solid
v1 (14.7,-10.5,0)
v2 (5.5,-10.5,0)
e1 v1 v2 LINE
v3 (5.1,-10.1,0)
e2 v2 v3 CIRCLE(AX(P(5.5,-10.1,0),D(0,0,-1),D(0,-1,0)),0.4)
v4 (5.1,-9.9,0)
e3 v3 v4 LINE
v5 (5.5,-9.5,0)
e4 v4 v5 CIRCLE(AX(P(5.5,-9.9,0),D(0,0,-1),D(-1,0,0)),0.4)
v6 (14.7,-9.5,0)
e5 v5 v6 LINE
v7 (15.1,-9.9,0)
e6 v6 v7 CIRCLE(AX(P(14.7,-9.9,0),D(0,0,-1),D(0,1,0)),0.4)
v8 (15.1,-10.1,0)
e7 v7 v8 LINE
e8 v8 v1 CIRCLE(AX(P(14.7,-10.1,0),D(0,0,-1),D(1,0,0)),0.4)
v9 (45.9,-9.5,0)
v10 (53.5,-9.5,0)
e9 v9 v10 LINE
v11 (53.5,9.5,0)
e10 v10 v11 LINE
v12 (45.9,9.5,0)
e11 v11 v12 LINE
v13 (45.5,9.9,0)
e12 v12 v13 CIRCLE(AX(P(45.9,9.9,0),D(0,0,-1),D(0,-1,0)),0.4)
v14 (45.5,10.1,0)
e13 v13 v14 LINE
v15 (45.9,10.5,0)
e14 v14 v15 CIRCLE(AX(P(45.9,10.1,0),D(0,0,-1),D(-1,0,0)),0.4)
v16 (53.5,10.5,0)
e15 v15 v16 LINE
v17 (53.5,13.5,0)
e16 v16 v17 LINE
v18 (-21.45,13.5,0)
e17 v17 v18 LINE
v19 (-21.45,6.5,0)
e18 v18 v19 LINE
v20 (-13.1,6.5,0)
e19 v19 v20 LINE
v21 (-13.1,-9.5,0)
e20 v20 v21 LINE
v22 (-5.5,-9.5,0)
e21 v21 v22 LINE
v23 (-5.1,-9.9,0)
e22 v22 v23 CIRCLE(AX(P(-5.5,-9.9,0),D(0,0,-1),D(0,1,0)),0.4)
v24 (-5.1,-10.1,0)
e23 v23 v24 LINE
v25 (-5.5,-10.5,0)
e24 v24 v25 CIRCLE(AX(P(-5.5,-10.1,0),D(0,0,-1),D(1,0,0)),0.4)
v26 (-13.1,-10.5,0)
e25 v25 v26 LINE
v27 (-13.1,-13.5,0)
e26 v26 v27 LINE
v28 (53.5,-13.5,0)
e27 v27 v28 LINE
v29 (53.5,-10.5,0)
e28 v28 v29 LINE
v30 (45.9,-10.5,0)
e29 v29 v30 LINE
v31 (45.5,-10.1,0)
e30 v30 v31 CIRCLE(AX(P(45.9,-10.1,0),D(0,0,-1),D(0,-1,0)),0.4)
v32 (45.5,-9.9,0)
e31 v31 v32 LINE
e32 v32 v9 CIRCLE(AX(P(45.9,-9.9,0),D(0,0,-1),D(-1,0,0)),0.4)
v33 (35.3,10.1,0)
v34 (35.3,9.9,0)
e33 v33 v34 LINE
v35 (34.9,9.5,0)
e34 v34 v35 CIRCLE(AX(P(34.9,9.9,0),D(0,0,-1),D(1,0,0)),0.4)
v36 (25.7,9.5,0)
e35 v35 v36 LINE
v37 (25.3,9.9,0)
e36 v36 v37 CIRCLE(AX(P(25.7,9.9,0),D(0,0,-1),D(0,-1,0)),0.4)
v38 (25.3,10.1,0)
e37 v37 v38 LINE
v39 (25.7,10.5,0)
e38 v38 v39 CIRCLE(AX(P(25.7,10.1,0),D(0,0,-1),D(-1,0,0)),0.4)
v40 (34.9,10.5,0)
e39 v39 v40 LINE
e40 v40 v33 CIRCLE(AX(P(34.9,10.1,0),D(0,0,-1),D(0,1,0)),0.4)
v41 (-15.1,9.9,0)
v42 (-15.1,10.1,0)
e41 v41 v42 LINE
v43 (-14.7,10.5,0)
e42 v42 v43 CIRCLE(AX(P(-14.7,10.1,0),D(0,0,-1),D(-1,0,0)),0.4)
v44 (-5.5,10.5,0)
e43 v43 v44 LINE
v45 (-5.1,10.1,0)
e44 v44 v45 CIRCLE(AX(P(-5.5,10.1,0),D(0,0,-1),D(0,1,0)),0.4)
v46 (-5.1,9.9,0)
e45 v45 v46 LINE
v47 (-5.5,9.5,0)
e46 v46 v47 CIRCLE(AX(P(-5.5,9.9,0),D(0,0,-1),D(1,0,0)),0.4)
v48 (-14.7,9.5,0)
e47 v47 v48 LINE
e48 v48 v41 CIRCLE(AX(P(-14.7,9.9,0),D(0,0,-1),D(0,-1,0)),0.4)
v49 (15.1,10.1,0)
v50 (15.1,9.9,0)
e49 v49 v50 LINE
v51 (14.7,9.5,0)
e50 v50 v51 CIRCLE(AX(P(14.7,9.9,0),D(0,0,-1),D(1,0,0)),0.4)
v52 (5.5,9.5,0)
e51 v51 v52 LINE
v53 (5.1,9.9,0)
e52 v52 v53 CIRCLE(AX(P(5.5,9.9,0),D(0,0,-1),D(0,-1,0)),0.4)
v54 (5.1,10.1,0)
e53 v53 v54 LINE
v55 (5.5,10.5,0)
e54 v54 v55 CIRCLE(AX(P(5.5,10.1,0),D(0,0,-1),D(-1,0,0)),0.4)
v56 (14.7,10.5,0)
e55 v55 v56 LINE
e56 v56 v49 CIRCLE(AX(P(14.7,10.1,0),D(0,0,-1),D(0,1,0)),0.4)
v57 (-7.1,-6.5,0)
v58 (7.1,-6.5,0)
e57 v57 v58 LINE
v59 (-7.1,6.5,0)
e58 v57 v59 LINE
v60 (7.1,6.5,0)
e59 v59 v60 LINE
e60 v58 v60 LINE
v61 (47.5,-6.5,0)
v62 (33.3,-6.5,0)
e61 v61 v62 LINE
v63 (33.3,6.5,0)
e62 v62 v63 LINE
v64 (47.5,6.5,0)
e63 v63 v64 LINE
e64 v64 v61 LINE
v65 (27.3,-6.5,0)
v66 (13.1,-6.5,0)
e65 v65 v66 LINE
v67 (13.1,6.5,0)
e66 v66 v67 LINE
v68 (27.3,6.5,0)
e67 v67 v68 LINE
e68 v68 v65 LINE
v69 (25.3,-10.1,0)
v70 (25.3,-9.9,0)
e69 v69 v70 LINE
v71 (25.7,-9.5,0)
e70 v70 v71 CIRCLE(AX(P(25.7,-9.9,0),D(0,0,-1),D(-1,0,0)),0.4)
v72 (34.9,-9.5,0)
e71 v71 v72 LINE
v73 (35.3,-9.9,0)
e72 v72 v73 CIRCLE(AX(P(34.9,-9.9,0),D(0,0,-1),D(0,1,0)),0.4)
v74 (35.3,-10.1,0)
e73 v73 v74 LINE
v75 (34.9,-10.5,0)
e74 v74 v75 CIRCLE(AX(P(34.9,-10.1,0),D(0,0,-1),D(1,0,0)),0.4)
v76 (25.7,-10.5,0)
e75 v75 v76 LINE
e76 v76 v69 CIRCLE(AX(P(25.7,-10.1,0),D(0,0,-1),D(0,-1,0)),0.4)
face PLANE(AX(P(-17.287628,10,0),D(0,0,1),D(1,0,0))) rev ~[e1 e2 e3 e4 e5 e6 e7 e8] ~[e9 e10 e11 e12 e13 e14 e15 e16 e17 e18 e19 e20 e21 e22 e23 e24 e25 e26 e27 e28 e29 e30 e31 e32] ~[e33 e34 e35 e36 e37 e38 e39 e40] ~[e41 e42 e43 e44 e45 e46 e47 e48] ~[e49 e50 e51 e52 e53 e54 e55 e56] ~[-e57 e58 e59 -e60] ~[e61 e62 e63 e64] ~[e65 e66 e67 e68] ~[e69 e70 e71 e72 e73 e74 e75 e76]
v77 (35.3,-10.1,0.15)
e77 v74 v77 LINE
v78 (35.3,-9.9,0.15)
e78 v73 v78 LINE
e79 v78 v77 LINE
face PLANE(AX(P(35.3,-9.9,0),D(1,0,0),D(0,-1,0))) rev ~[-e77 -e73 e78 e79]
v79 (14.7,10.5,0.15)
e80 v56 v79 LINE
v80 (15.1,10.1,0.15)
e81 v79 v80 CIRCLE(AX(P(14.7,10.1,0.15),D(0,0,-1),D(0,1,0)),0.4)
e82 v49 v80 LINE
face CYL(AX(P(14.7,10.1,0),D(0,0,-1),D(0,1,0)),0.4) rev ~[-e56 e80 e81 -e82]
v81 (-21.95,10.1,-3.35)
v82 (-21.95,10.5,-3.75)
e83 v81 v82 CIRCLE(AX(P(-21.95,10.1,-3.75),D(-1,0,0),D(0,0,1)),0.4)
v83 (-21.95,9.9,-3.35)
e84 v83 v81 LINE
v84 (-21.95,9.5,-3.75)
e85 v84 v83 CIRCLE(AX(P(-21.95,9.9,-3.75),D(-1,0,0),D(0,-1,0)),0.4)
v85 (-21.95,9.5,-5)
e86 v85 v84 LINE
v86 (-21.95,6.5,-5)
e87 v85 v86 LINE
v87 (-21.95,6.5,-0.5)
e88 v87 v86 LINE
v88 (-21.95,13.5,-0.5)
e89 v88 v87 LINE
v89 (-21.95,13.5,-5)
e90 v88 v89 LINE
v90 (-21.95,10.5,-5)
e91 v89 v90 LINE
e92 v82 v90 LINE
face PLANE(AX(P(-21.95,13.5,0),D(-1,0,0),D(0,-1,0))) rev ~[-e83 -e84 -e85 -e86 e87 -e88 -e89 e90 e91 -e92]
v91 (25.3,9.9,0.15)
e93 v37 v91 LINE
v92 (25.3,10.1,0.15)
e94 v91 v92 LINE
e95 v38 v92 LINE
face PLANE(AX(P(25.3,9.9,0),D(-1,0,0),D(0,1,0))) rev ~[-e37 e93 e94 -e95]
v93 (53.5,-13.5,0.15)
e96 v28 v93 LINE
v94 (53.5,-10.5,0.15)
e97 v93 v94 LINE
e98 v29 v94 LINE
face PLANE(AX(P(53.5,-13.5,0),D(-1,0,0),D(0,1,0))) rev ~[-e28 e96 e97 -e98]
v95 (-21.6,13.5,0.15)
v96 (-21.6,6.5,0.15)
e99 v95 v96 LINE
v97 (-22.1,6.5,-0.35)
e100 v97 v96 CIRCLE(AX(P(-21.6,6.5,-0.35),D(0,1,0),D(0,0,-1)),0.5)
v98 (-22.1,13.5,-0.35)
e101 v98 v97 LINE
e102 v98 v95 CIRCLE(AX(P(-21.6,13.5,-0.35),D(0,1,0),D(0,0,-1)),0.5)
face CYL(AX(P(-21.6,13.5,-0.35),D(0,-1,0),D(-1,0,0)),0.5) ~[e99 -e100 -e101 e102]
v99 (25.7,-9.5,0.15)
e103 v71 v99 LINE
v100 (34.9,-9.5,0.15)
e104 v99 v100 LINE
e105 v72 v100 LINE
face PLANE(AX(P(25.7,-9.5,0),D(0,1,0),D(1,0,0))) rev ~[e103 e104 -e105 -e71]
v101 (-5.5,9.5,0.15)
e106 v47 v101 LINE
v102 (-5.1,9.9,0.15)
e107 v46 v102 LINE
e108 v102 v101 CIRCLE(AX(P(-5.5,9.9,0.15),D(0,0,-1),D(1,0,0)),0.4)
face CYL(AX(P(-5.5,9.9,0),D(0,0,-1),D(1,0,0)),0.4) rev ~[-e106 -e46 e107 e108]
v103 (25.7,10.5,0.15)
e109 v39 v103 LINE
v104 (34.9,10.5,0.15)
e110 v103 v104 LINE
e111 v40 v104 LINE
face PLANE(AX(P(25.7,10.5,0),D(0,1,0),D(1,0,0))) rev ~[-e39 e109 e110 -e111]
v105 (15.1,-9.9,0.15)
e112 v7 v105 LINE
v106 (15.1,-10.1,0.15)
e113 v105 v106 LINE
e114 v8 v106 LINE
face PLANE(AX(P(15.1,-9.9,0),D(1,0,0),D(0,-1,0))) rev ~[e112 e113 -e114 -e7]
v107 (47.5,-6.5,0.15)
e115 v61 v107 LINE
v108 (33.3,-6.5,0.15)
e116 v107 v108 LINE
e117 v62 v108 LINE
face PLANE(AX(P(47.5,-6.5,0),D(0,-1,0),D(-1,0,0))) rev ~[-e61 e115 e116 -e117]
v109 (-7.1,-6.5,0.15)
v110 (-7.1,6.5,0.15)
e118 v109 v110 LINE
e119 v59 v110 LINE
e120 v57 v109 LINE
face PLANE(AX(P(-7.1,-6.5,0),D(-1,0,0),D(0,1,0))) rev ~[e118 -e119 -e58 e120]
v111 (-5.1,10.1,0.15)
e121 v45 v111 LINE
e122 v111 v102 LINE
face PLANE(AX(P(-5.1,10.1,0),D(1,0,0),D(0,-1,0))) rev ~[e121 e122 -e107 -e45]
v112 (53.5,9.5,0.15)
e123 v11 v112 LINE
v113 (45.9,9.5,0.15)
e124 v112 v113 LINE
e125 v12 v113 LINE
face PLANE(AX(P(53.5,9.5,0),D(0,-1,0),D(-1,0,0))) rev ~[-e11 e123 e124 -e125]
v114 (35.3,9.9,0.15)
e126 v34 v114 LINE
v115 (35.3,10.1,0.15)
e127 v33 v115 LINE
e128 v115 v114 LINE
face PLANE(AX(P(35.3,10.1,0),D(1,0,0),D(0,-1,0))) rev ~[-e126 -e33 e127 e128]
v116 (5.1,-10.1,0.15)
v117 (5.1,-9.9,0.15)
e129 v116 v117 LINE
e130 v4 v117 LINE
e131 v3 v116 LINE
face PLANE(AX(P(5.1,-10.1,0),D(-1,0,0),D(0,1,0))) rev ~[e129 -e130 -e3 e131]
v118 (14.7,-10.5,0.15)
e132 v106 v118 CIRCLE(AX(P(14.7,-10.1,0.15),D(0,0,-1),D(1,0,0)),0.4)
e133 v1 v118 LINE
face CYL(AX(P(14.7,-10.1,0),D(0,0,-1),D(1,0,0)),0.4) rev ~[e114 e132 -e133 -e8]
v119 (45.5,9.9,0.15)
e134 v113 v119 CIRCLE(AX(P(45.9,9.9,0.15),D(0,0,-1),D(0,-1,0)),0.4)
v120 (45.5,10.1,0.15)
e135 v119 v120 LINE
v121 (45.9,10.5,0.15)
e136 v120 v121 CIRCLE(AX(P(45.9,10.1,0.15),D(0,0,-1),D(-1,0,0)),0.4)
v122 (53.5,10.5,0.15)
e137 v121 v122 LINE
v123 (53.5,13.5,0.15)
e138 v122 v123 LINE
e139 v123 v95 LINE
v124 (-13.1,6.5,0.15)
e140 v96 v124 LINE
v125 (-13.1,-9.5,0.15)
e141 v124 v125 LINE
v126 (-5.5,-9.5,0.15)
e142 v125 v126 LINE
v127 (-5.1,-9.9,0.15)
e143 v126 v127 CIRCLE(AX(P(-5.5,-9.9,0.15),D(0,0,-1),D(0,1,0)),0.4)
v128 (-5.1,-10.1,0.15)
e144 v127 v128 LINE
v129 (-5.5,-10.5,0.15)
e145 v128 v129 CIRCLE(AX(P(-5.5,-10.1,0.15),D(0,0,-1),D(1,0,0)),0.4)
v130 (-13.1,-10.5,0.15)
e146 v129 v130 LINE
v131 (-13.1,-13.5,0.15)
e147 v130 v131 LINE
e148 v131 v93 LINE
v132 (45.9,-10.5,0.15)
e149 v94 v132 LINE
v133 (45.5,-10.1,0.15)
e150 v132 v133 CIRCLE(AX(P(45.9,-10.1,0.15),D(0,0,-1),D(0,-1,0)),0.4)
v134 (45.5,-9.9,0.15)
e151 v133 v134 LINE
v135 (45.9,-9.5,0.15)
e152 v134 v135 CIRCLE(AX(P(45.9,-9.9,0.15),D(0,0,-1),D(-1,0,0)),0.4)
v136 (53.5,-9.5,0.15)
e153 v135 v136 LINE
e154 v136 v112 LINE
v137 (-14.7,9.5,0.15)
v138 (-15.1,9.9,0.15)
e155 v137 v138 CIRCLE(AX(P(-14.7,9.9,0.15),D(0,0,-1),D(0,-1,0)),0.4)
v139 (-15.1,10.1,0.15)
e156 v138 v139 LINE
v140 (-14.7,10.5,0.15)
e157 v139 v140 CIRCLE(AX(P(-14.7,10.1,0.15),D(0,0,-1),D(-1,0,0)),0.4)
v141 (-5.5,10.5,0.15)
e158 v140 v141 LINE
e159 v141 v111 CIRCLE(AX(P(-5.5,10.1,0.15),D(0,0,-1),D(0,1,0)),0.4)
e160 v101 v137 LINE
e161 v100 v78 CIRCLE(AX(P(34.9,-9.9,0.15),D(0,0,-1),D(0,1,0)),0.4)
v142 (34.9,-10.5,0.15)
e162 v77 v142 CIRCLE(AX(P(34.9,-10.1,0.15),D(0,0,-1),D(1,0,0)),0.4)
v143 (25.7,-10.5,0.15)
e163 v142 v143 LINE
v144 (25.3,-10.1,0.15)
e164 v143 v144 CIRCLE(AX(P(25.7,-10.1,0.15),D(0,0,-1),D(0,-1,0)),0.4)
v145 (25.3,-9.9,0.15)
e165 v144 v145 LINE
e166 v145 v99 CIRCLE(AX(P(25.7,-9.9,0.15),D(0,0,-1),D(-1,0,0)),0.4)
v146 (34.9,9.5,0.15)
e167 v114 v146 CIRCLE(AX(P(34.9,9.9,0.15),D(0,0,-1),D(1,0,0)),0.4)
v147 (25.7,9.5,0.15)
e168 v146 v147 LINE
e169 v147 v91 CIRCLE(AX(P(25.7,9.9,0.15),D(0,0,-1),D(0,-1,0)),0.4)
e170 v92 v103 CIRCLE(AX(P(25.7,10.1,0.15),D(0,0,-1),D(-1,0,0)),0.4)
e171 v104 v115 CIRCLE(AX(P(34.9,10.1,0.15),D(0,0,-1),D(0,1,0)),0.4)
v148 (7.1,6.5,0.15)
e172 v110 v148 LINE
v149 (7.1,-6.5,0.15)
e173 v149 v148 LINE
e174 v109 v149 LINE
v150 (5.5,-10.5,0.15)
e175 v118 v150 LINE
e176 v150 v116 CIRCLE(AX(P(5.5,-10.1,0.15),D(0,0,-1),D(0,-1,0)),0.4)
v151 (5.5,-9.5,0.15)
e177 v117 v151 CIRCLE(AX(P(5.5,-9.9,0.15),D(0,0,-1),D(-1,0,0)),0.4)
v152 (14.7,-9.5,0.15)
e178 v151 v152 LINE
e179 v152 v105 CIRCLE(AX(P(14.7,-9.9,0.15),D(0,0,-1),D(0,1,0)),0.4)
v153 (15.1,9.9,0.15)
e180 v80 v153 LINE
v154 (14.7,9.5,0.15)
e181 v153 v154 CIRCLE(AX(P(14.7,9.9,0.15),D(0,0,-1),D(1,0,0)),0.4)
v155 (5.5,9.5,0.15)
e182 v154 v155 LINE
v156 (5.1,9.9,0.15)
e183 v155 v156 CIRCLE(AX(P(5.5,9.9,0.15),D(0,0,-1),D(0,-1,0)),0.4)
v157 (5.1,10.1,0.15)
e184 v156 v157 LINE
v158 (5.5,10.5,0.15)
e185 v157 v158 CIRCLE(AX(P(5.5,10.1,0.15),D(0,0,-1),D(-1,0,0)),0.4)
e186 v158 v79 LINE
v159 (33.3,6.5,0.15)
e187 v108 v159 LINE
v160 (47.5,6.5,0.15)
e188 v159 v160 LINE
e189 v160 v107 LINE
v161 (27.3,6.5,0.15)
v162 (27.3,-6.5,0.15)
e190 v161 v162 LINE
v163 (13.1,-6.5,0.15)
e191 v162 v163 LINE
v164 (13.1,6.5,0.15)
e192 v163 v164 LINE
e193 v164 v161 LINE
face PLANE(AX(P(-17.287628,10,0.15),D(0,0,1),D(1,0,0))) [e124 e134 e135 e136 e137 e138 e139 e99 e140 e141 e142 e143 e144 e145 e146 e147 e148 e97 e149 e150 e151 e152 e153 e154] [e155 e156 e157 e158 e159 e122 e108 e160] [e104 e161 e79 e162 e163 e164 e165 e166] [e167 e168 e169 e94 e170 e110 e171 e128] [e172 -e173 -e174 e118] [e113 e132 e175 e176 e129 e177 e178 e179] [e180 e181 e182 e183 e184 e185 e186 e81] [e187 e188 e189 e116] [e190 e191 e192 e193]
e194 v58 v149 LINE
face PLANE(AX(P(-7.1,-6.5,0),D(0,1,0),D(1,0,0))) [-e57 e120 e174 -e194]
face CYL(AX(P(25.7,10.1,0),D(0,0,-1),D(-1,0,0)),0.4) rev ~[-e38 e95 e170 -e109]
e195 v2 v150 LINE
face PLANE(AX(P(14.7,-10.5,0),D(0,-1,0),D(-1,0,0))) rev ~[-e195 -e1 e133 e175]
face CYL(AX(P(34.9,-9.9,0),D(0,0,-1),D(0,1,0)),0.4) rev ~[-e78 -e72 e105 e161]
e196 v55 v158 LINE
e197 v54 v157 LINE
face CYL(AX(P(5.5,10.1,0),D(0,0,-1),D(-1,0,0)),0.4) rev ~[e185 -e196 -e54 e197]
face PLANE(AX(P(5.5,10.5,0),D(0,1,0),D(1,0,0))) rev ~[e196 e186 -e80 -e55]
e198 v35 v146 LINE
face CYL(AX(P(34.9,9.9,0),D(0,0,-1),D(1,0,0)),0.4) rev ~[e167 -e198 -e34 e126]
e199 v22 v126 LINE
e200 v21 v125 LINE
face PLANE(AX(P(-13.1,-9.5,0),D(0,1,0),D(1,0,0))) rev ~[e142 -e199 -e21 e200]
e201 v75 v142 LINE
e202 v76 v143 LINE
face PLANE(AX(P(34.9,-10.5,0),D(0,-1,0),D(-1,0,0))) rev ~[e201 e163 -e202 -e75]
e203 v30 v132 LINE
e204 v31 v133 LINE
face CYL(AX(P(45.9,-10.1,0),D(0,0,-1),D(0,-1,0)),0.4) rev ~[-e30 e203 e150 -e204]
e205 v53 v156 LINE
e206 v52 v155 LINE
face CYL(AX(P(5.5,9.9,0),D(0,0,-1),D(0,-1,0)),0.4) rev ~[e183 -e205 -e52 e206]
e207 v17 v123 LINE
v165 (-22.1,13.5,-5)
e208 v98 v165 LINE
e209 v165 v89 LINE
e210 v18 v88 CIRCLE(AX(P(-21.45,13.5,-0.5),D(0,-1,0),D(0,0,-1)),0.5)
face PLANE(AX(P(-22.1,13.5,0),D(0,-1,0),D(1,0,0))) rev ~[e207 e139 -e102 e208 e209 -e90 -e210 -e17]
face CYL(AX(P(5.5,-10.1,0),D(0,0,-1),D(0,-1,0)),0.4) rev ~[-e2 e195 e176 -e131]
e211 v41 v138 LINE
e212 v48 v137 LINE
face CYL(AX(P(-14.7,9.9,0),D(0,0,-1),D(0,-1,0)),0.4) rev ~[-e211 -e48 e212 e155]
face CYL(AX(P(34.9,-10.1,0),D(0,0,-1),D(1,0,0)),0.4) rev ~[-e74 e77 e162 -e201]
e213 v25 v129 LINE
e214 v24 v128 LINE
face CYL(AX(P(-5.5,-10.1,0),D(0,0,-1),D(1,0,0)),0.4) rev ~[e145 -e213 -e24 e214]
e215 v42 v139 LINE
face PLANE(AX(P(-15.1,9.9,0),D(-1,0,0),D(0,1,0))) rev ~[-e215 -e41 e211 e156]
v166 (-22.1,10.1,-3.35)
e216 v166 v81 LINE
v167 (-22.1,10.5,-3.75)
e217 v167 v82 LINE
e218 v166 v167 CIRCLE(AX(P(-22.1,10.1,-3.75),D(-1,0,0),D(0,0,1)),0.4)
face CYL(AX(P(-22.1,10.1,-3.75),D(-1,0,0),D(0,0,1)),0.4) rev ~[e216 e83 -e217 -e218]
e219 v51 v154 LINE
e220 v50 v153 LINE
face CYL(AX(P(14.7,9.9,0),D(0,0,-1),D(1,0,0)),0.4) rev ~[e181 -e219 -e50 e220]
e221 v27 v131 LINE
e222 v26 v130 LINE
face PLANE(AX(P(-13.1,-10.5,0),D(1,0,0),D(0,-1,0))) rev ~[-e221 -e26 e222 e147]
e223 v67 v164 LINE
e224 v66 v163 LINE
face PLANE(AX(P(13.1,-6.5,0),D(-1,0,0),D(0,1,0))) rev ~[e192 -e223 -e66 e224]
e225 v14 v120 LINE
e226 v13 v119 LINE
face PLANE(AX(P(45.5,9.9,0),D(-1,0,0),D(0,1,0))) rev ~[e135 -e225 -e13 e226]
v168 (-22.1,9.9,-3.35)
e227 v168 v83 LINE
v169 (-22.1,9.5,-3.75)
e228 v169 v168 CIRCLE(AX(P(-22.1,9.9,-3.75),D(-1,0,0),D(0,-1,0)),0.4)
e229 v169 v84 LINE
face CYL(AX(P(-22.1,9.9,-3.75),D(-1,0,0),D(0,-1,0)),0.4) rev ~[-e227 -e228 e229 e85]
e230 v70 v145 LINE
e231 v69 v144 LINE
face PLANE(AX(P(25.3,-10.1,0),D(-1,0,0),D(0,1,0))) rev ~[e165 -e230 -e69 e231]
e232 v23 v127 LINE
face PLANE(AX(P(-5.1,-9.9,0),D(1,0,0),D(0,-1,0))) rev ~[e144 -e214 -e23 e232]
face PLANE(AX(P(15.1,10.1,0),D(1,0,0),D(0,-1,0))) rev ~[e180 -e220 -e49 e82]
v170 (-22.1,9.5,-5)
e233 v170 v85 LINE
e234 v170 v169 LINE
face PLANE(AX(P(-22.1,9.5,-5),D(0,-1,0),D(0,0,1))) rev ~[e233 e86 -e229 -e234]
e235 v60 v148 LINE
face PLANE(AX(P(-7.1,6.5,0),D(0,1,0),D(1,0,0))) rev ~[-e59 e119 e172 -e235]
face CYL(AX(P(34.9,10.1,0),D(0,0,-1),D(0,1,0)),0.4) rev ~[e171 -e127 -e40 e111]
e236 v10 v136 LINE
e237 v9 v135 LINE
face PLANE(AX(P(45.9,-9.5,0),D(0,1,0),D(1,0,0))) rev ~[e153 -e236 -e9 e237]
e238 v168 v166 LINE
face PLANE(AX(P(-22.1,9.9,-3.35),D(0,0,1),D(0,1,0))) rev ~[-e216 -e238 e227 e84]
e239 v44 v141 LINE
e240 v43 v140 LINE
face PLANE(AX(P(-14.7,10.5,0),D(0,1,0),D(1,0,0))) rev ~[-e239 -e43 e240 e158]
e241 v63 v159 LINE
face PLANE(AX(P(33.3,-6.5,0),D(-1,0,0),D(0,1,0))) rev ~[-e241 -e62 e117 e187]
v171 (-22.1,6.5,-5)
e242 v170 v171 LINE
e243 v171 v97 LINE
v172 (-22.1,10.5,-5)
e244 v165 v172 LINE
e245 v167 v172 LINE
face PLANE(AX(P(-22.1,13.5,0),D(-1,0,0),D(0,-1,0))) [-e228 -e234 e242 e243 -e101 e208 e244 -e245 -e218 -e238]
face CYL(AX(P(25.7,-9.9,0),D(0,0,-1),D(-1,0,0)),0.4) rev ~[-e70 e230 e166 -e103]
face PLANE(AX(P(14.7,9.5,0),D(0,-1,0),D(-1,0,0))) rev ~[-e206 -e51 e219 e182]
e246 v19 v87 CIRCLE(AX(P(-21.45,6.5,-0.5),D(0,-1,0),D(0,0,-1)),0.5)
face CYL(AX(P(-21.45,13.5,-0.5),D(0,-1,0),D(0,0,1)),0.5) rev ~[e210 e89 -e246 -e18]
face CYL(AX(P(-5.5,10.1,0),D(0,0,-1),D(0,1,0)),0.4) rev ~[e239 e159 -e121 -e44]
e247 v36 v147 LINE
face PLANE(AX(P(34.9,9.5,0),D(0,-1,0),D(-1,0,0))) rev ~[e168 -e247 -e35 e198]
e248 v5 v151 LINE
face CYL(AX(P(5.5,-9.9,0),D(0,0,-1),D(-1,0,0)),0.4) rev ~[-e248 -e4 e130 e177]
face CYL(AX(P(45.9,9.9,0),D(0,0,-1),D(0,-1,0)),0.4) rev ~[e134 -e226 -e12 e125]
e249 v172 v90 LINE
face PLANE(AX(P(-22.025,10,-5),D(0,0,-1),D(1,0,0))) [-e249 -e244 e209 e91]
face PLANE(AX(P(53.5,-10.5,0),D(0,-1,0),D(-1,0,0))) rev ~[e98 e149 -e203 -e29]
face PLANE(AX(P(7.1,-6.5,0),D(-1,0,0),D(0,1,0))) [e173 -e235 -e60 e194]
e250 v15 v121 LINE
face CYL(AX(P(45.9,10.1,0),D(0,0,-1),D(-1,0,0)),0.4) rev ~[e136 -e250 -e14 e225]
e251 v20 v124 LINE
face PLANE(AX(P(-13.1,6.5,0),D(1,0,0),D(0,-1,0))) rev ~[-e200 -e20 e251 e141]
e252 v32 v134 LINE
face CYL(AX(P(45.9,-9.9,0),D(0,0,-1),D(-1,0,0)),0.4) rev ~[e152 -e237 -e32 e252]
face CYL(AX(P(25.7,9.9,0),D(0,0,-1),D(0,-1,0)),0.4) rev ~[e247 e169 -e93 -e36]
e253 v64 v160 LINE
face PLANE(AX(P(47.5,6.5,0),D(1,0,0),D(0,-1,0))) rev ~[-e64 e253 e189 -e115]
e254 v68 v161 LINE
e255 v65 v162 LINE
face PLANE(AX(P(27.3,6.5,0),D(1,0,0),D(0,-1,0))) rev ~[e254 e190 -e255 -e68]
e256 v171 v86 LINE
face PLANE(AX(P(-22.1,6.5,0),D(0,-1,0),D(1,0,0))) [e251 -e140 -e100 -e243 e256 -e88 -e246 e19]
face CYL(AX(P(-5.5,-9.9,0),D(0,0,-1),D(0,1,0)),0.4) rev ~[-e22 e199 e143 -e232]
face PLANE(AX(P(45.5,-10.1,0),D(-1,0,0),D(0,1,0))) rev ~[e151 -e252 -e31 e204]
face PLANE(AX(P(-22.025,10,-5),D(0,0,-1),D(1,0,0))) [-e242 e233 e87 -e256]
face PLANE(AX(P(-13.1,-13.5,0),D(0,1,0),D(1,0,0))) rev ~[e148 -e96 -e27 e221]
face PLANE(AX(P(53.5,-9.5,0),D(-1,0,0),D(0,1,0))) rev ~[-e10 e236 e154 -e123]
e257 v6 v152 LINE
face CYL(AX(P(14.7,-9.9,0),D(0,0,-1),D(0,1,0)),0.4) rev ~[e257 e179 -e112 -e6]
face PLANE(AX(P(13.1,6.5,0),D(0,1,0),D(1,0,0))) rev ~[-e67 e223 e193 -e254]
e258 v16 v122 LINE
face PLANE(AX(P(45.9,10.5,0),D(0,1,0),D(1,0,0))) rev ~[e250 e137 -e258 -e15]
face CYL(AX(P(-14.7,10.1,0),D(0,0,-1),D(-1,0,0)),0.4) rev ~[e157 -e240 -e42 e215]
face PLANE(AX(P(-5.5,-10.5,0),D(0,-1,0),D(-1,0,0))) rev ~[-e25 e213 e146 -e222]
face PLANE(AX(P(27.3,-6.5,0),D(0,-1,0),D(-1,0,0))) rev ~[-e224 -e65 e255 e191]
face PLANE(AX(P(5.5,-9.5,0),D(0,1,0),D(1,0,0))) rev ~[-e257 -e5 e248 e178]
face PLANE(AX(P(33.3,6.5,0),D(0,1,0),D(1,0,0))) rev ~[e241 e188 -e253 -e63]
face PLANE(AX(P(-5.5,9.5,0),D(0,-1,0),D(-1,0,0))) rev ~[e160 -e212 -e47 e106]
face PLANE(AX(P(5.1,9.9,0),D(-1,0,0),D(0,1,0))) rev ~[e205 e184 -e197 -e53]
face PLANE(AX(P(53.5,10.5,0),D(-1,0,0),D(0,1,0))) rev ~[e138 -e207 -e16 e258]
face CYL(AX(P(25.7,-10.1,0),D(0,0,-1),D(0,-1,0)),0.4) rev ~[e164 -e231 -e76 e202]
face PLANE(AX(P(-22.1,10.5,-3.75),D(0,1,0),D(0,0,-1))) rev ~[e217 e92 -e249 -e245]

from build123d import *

# Parameters (mm, degrees)
F0_W     = 14.2
F0_H     = 13
F1_DEPTH = 0.15
F2_W     = 0.15
F2_H     = 7
F3_DEPTH = 5
F4_R     = 0.5
F6_DEPTH = 25


with BuildPart() as f1:
    # F0 (on Top) → F1 (new body)
    with BuildSketch(Plane.XY):
        with BuildLine():
            Line((-13.1, 10.5), (-13.1, 13.5))
            Line((-13.1, 13.5), (-22.1, 13.5))
            Line((-22.1, 13.5), (-22.1, 6.5))
            Line((-22.1, 6.5), (-13.1, 6.5))
            Line((-13.1, 6.5), (-13.1, 9.5))
            Line((-13.1, 9.5), (-14.7, 9.5))
            ThreePointArc((-14.7, 9.5), (-14.9828427125, 9.6171572875), (-15.1, 9.9))
            Line((-15.1, 9.9), (-15.1, 10.1))
            ThreePointArc((-15.1, 10.1), (-14.9828427125, 10.3828427125), (-14.7, 10.5))
            Line((-14.7, 10.5), (-13.1, 10.5))
        make_face()
        with BuildLine():
            Line((53.5, 13.5), (33.3, 13.5))
            Line((33.3, 13.5), (33.3, 10.5))
            Line((33.3, 10.5), (34.9, 10.5))
            ThreePointArc((34.9, 10.5), (35.1828427125, 10.3828427125), (35.3, 10.1))
            Line((35.3, 10.1), (35.3, 9.9))
            ThreePointArc((35.3, 9.9), (35.1828427125, 9.6171572875), (34.9, 9.5))
            Line((34.9, 9.5), (33.3, 9.5))
            Line((33.3, 9.5), (33.3, 6.5))
            Line((33.3, 6.5), (47.5, 6.5))
            Line((47.5, 6.5), (47.5, -6.5))
            Line((47.5, -6.5), (33.3, -6.5))
            Line((33.3, -6.5), (33.3, -9.5))
            Line((33.3, -9.5), (34.9, -9.5))
            ThreePointArc((34.9, -9.5), (35.1828427125, -9.6171572875), (35.3, -9.9))
            Line((35.3, -9.9), (35.3, -10.1))
            ThreePointArc((35.3, -10.1), (35.1828427125, -10.3828427125), (34.9, -10.5))
            Line((34.9, -10.5), (33.3, -10.5))
            Line((33.3, -10.5), (33.3, -13.5))
            Line((33.3, -13.5), (53.5, -13.5))
            Line((53.5, -13.5), (53.5, -10.5))
            Line((53.5, -10.5), (45.9, -10.5))
            ThreePointArc((45.9, -10.5), (45.6171572875, -10.3828427125), (45.5, -10.1))
            Line((45.5, -10.1), (45.5, -9.9))
            ThreePointArc((45.5, -9.9), (45.6171572875, -9.6171572875), (45.9, -9.5))
            Line((45.9, -9.5), (53.5, -9.5))
            Line((53.5, -9.5), (53.5, 0))
            Line((53.5, 0), (53.5, 9.5))
            Line((53.5, 9.5), (45.9, 9.5))
            ThreePointArc((45.9, 9.5), (45.6171572875, 9.6171572875), (45.5, 9.9))
            Line((45.5, 9.9), (45.5, 10.1))
            ThreePointArc((45.5, 10.1), (45.6171572875, 10.3828427125), (45.9, 10.5))
            Line((45.9, 10.5), (53.5, 10.5))
            Line((53.5, 10.5), (53.5, 13.5))
        make_face()
        with BuildLine():
            Line((13.1, 10.5), (13.1, 13.5))
            Line((13.1, 13.5), (-7.1, 13.5))
            Line((-7.1, 13.5), (-13.1, 13.5))
            Line((-13.1, 13.5), (-13.1, 10.5))
            Line((-13.1, 10.5), (-5.5, 10.5))
            ThreePointArc((-5.5, 10.5), (-5.2171572875, 10.3828427125), (-5.1, 10.1))
            Line((-5.1, 10.1), (-5.1, 9.9))
            ThreePointArc((-5.1, 9.9), (-5.2171572875, 9.6171572875), (-5.5, 9.5))
            Line((-5.5, 9.5), (-13.1, 9.5))
            Line((-13.1, 9.5), (-13.1, 6.5))
            Line((-13.1, 6.5), (-13.1, 0))
            Line((-13.1, 0), (-13.1, -6.5))
            Line((-13.1, -6.5), (-13.1, -9.5))
            Line((-13.1, -9.5), (-5.5, -9.5))
            ThreePointArc((-5.5, -9.5), (-5.2171572875, -9.6171572875), (-5.1, -9.9))
            Line((-5.1, -9.9), (-5.1, -10.1))
            ThreePointArc((-5.1, -10.1), (-5.2171572875, -10.3828427125), (-5.5, -10.5))
            Line((-5.5, -10.5), (-13.1, -10.5))
            Line((-13.1, -10.5), (-13.1, -13.5))
            Line((-13.1, -13.5), (-7.1, -13.5))
            Line((-7.1, -13.5), (13.1, -13.5))
            Line((13.1, -13.5), (13.1, -10.5))
            Line((13.1, -10.5), (5.5, -10.5))
            ThreePointArc((5.5, -10.5), (5.2171572875, -10.3828427125), (5.1, -10.1))
            Line((5.1, -10.1), (5.1, -9.9))
            ThreePointArc((5.1, -9.9), (5.2171572875, -9.6171572875), (5.5, -9.5))
            Line((5.5, -9.5), (13.1, -9.5))
            Line((13.1, -9.5), (13.1, -6.5))
            Line((13.1, -6.5), (13.1, 0))
            Line((13.1, 0), (13.1, 6.5))
            Line((13.1, 6.5), (13.1, 9.5))
            Line((13.1, 9.5), (5.5, 9.5))
            ThreePointArc((5.5, 9.5), (5.2171572875, 9.6171572875), (5.1, 9.9))
            Line((5.1, 9.9), (5.1, 10.1))
            ThreePointArc((5.1, 10.1), (5.2171572875, 10.3828427125), (5.5, 10.5))
            Line((5.5, 10.5), (13.1, 10.5))
        make_face()
        Rectangle(F0_W, F0_H, mode=Mode.SUBTRACT)
        with BuildLine():
            Line((33.3, 13.5), (13.1, 13.5))
            Line((13.1, 13.5), (13.1, 10.5))
            Line((13.1, 10.5), (14.7, 10.5))
            ThreePointArc((14.7, 10.5), (14.9828427125, 10.3828427125), (15.1, 10.1))
            Line((15.1, 10.1), (15.1, 9.9))
            ThreePointArc((15.1, 9.9), (14.9828427125, 9.6171572875), (14.7, 9.5))
            Line((14.7, 9.5), (13.1, 9.5))
            Line((13.1, 9.5), (13.1, 6.5))
            Line((13.1, 6.5), (27.3, 6.5))
            Line((27.3, 6.5), (27.3, -6.5))
            Line((27.3, -6.5), (13.1, -6.5))
            Line((13.1, -6.5), (13.1, -9.5))
            Line((13.1, -9.5), (14.7, -9.5))
            ThreePointArc((14.7, -9.5), (14.9828427125, -9.6171572875), (15.1, -9.9))
            Line((15.1, -9.9), (15.1, -10.1))
            ThreePointArc((15.1, -10.1), (14.9828427125, -10.3828427125), (14.7, -10.5))
            Line((14.7, -10.5), (13.1, -10.5))
            Line((13.1, -10.5), (13.1, -13.5))
            Line((13.1, -13.5), (33.3, -13.5))
            Line((33.3, -13.5), (33.3, -10.5))
            Line((33.3, -10.5), (25.7, -10.5))
            ThreePointArc((25.7, -10.5), (25.4171572875, -10.3828427125), (25.3, -10.1))
            Line((25.3, -10.1), (25.3, -9.9))
            ThreePointArc((25.3, -9.9), (25.4171572875, -9.6171572875), (25.7, -9.5))
            Line((25.7, -9.5), (33.3, -9.5))
            Line((33.3, -9.5), (33.3, -6.5))
            Line((33.3, -6.5), (33.3, 0))
            Line((33.3, 0), (33.3, 6.5))
            Line((33.3, 6.5), (33.3, 9.5))
            Line((33.3, 9.5), (25.7, 9.5))
            ThreePointArc((25.7, 9.5), (25.4171572875, 9.6171572875), (25.3, 9.9))
            Line((25.3, 9.9), (25.3, 10.1))
            ThreePointArc((25.3, 10.1), (25.4171572875, 10.3828427125), (25.7, 10.5))
            Line((25.7, 10.5), (33.3, 10.5))
            Line((33.3, 10.5), (33.3, 13.5))
        make_face()
    extrude(amount=F1_DEPTH)

    # F2 (on face) → F3 (join)
    with BuildSketch(Plane(origin=(0, 0, 0), x_dir=(1, 0, 0), z_dir=(0, 0, -1))):
        with Locations((-22.025, -10)):
            Rectangle(F2_W, F2_H)
    extrude(amount=F3_DEPTH)

    # F4
    f4_edges = [f1.edges().sort_by_distance(p)[0] for p in [
        (-21.95, 10, 0),
        (-22.1, 10, 0.15),
    ]]
    fillet(f4_edges, radius=F4_R)

    # F5 (on face) → F6 (cut)
    with BuildSketch(Plane(origin=(-22.1, 0, 0), x_dir=(0, -1, 0), z_dir=(-1, 0, 0))):
        with BuildLine():
            Line((-9.9, -3.35), (-10, -3.35))
            Line((-10, -3.35), (-10.1, -3.35))
            ThreePointArc((-10.1, -3.35), (-10.3828427125, -3.4671572875), (-10.5, -3.75))
            Line((-10.5, -3.75), (-10.5, -5))
            Line((-10.5, -5), (-9.5, -5))
            Line((-9.5, -5), (-9.5, -3.75))
            ThreePointArc((-9.5, -3.75), (-9.6171572875, -3.4671572875), (-9.9, -3.35))
        make_face()
    extrude(amount=-F6_DEPTH, mode=Mode.SUBTRACT)


solid = f1.part
